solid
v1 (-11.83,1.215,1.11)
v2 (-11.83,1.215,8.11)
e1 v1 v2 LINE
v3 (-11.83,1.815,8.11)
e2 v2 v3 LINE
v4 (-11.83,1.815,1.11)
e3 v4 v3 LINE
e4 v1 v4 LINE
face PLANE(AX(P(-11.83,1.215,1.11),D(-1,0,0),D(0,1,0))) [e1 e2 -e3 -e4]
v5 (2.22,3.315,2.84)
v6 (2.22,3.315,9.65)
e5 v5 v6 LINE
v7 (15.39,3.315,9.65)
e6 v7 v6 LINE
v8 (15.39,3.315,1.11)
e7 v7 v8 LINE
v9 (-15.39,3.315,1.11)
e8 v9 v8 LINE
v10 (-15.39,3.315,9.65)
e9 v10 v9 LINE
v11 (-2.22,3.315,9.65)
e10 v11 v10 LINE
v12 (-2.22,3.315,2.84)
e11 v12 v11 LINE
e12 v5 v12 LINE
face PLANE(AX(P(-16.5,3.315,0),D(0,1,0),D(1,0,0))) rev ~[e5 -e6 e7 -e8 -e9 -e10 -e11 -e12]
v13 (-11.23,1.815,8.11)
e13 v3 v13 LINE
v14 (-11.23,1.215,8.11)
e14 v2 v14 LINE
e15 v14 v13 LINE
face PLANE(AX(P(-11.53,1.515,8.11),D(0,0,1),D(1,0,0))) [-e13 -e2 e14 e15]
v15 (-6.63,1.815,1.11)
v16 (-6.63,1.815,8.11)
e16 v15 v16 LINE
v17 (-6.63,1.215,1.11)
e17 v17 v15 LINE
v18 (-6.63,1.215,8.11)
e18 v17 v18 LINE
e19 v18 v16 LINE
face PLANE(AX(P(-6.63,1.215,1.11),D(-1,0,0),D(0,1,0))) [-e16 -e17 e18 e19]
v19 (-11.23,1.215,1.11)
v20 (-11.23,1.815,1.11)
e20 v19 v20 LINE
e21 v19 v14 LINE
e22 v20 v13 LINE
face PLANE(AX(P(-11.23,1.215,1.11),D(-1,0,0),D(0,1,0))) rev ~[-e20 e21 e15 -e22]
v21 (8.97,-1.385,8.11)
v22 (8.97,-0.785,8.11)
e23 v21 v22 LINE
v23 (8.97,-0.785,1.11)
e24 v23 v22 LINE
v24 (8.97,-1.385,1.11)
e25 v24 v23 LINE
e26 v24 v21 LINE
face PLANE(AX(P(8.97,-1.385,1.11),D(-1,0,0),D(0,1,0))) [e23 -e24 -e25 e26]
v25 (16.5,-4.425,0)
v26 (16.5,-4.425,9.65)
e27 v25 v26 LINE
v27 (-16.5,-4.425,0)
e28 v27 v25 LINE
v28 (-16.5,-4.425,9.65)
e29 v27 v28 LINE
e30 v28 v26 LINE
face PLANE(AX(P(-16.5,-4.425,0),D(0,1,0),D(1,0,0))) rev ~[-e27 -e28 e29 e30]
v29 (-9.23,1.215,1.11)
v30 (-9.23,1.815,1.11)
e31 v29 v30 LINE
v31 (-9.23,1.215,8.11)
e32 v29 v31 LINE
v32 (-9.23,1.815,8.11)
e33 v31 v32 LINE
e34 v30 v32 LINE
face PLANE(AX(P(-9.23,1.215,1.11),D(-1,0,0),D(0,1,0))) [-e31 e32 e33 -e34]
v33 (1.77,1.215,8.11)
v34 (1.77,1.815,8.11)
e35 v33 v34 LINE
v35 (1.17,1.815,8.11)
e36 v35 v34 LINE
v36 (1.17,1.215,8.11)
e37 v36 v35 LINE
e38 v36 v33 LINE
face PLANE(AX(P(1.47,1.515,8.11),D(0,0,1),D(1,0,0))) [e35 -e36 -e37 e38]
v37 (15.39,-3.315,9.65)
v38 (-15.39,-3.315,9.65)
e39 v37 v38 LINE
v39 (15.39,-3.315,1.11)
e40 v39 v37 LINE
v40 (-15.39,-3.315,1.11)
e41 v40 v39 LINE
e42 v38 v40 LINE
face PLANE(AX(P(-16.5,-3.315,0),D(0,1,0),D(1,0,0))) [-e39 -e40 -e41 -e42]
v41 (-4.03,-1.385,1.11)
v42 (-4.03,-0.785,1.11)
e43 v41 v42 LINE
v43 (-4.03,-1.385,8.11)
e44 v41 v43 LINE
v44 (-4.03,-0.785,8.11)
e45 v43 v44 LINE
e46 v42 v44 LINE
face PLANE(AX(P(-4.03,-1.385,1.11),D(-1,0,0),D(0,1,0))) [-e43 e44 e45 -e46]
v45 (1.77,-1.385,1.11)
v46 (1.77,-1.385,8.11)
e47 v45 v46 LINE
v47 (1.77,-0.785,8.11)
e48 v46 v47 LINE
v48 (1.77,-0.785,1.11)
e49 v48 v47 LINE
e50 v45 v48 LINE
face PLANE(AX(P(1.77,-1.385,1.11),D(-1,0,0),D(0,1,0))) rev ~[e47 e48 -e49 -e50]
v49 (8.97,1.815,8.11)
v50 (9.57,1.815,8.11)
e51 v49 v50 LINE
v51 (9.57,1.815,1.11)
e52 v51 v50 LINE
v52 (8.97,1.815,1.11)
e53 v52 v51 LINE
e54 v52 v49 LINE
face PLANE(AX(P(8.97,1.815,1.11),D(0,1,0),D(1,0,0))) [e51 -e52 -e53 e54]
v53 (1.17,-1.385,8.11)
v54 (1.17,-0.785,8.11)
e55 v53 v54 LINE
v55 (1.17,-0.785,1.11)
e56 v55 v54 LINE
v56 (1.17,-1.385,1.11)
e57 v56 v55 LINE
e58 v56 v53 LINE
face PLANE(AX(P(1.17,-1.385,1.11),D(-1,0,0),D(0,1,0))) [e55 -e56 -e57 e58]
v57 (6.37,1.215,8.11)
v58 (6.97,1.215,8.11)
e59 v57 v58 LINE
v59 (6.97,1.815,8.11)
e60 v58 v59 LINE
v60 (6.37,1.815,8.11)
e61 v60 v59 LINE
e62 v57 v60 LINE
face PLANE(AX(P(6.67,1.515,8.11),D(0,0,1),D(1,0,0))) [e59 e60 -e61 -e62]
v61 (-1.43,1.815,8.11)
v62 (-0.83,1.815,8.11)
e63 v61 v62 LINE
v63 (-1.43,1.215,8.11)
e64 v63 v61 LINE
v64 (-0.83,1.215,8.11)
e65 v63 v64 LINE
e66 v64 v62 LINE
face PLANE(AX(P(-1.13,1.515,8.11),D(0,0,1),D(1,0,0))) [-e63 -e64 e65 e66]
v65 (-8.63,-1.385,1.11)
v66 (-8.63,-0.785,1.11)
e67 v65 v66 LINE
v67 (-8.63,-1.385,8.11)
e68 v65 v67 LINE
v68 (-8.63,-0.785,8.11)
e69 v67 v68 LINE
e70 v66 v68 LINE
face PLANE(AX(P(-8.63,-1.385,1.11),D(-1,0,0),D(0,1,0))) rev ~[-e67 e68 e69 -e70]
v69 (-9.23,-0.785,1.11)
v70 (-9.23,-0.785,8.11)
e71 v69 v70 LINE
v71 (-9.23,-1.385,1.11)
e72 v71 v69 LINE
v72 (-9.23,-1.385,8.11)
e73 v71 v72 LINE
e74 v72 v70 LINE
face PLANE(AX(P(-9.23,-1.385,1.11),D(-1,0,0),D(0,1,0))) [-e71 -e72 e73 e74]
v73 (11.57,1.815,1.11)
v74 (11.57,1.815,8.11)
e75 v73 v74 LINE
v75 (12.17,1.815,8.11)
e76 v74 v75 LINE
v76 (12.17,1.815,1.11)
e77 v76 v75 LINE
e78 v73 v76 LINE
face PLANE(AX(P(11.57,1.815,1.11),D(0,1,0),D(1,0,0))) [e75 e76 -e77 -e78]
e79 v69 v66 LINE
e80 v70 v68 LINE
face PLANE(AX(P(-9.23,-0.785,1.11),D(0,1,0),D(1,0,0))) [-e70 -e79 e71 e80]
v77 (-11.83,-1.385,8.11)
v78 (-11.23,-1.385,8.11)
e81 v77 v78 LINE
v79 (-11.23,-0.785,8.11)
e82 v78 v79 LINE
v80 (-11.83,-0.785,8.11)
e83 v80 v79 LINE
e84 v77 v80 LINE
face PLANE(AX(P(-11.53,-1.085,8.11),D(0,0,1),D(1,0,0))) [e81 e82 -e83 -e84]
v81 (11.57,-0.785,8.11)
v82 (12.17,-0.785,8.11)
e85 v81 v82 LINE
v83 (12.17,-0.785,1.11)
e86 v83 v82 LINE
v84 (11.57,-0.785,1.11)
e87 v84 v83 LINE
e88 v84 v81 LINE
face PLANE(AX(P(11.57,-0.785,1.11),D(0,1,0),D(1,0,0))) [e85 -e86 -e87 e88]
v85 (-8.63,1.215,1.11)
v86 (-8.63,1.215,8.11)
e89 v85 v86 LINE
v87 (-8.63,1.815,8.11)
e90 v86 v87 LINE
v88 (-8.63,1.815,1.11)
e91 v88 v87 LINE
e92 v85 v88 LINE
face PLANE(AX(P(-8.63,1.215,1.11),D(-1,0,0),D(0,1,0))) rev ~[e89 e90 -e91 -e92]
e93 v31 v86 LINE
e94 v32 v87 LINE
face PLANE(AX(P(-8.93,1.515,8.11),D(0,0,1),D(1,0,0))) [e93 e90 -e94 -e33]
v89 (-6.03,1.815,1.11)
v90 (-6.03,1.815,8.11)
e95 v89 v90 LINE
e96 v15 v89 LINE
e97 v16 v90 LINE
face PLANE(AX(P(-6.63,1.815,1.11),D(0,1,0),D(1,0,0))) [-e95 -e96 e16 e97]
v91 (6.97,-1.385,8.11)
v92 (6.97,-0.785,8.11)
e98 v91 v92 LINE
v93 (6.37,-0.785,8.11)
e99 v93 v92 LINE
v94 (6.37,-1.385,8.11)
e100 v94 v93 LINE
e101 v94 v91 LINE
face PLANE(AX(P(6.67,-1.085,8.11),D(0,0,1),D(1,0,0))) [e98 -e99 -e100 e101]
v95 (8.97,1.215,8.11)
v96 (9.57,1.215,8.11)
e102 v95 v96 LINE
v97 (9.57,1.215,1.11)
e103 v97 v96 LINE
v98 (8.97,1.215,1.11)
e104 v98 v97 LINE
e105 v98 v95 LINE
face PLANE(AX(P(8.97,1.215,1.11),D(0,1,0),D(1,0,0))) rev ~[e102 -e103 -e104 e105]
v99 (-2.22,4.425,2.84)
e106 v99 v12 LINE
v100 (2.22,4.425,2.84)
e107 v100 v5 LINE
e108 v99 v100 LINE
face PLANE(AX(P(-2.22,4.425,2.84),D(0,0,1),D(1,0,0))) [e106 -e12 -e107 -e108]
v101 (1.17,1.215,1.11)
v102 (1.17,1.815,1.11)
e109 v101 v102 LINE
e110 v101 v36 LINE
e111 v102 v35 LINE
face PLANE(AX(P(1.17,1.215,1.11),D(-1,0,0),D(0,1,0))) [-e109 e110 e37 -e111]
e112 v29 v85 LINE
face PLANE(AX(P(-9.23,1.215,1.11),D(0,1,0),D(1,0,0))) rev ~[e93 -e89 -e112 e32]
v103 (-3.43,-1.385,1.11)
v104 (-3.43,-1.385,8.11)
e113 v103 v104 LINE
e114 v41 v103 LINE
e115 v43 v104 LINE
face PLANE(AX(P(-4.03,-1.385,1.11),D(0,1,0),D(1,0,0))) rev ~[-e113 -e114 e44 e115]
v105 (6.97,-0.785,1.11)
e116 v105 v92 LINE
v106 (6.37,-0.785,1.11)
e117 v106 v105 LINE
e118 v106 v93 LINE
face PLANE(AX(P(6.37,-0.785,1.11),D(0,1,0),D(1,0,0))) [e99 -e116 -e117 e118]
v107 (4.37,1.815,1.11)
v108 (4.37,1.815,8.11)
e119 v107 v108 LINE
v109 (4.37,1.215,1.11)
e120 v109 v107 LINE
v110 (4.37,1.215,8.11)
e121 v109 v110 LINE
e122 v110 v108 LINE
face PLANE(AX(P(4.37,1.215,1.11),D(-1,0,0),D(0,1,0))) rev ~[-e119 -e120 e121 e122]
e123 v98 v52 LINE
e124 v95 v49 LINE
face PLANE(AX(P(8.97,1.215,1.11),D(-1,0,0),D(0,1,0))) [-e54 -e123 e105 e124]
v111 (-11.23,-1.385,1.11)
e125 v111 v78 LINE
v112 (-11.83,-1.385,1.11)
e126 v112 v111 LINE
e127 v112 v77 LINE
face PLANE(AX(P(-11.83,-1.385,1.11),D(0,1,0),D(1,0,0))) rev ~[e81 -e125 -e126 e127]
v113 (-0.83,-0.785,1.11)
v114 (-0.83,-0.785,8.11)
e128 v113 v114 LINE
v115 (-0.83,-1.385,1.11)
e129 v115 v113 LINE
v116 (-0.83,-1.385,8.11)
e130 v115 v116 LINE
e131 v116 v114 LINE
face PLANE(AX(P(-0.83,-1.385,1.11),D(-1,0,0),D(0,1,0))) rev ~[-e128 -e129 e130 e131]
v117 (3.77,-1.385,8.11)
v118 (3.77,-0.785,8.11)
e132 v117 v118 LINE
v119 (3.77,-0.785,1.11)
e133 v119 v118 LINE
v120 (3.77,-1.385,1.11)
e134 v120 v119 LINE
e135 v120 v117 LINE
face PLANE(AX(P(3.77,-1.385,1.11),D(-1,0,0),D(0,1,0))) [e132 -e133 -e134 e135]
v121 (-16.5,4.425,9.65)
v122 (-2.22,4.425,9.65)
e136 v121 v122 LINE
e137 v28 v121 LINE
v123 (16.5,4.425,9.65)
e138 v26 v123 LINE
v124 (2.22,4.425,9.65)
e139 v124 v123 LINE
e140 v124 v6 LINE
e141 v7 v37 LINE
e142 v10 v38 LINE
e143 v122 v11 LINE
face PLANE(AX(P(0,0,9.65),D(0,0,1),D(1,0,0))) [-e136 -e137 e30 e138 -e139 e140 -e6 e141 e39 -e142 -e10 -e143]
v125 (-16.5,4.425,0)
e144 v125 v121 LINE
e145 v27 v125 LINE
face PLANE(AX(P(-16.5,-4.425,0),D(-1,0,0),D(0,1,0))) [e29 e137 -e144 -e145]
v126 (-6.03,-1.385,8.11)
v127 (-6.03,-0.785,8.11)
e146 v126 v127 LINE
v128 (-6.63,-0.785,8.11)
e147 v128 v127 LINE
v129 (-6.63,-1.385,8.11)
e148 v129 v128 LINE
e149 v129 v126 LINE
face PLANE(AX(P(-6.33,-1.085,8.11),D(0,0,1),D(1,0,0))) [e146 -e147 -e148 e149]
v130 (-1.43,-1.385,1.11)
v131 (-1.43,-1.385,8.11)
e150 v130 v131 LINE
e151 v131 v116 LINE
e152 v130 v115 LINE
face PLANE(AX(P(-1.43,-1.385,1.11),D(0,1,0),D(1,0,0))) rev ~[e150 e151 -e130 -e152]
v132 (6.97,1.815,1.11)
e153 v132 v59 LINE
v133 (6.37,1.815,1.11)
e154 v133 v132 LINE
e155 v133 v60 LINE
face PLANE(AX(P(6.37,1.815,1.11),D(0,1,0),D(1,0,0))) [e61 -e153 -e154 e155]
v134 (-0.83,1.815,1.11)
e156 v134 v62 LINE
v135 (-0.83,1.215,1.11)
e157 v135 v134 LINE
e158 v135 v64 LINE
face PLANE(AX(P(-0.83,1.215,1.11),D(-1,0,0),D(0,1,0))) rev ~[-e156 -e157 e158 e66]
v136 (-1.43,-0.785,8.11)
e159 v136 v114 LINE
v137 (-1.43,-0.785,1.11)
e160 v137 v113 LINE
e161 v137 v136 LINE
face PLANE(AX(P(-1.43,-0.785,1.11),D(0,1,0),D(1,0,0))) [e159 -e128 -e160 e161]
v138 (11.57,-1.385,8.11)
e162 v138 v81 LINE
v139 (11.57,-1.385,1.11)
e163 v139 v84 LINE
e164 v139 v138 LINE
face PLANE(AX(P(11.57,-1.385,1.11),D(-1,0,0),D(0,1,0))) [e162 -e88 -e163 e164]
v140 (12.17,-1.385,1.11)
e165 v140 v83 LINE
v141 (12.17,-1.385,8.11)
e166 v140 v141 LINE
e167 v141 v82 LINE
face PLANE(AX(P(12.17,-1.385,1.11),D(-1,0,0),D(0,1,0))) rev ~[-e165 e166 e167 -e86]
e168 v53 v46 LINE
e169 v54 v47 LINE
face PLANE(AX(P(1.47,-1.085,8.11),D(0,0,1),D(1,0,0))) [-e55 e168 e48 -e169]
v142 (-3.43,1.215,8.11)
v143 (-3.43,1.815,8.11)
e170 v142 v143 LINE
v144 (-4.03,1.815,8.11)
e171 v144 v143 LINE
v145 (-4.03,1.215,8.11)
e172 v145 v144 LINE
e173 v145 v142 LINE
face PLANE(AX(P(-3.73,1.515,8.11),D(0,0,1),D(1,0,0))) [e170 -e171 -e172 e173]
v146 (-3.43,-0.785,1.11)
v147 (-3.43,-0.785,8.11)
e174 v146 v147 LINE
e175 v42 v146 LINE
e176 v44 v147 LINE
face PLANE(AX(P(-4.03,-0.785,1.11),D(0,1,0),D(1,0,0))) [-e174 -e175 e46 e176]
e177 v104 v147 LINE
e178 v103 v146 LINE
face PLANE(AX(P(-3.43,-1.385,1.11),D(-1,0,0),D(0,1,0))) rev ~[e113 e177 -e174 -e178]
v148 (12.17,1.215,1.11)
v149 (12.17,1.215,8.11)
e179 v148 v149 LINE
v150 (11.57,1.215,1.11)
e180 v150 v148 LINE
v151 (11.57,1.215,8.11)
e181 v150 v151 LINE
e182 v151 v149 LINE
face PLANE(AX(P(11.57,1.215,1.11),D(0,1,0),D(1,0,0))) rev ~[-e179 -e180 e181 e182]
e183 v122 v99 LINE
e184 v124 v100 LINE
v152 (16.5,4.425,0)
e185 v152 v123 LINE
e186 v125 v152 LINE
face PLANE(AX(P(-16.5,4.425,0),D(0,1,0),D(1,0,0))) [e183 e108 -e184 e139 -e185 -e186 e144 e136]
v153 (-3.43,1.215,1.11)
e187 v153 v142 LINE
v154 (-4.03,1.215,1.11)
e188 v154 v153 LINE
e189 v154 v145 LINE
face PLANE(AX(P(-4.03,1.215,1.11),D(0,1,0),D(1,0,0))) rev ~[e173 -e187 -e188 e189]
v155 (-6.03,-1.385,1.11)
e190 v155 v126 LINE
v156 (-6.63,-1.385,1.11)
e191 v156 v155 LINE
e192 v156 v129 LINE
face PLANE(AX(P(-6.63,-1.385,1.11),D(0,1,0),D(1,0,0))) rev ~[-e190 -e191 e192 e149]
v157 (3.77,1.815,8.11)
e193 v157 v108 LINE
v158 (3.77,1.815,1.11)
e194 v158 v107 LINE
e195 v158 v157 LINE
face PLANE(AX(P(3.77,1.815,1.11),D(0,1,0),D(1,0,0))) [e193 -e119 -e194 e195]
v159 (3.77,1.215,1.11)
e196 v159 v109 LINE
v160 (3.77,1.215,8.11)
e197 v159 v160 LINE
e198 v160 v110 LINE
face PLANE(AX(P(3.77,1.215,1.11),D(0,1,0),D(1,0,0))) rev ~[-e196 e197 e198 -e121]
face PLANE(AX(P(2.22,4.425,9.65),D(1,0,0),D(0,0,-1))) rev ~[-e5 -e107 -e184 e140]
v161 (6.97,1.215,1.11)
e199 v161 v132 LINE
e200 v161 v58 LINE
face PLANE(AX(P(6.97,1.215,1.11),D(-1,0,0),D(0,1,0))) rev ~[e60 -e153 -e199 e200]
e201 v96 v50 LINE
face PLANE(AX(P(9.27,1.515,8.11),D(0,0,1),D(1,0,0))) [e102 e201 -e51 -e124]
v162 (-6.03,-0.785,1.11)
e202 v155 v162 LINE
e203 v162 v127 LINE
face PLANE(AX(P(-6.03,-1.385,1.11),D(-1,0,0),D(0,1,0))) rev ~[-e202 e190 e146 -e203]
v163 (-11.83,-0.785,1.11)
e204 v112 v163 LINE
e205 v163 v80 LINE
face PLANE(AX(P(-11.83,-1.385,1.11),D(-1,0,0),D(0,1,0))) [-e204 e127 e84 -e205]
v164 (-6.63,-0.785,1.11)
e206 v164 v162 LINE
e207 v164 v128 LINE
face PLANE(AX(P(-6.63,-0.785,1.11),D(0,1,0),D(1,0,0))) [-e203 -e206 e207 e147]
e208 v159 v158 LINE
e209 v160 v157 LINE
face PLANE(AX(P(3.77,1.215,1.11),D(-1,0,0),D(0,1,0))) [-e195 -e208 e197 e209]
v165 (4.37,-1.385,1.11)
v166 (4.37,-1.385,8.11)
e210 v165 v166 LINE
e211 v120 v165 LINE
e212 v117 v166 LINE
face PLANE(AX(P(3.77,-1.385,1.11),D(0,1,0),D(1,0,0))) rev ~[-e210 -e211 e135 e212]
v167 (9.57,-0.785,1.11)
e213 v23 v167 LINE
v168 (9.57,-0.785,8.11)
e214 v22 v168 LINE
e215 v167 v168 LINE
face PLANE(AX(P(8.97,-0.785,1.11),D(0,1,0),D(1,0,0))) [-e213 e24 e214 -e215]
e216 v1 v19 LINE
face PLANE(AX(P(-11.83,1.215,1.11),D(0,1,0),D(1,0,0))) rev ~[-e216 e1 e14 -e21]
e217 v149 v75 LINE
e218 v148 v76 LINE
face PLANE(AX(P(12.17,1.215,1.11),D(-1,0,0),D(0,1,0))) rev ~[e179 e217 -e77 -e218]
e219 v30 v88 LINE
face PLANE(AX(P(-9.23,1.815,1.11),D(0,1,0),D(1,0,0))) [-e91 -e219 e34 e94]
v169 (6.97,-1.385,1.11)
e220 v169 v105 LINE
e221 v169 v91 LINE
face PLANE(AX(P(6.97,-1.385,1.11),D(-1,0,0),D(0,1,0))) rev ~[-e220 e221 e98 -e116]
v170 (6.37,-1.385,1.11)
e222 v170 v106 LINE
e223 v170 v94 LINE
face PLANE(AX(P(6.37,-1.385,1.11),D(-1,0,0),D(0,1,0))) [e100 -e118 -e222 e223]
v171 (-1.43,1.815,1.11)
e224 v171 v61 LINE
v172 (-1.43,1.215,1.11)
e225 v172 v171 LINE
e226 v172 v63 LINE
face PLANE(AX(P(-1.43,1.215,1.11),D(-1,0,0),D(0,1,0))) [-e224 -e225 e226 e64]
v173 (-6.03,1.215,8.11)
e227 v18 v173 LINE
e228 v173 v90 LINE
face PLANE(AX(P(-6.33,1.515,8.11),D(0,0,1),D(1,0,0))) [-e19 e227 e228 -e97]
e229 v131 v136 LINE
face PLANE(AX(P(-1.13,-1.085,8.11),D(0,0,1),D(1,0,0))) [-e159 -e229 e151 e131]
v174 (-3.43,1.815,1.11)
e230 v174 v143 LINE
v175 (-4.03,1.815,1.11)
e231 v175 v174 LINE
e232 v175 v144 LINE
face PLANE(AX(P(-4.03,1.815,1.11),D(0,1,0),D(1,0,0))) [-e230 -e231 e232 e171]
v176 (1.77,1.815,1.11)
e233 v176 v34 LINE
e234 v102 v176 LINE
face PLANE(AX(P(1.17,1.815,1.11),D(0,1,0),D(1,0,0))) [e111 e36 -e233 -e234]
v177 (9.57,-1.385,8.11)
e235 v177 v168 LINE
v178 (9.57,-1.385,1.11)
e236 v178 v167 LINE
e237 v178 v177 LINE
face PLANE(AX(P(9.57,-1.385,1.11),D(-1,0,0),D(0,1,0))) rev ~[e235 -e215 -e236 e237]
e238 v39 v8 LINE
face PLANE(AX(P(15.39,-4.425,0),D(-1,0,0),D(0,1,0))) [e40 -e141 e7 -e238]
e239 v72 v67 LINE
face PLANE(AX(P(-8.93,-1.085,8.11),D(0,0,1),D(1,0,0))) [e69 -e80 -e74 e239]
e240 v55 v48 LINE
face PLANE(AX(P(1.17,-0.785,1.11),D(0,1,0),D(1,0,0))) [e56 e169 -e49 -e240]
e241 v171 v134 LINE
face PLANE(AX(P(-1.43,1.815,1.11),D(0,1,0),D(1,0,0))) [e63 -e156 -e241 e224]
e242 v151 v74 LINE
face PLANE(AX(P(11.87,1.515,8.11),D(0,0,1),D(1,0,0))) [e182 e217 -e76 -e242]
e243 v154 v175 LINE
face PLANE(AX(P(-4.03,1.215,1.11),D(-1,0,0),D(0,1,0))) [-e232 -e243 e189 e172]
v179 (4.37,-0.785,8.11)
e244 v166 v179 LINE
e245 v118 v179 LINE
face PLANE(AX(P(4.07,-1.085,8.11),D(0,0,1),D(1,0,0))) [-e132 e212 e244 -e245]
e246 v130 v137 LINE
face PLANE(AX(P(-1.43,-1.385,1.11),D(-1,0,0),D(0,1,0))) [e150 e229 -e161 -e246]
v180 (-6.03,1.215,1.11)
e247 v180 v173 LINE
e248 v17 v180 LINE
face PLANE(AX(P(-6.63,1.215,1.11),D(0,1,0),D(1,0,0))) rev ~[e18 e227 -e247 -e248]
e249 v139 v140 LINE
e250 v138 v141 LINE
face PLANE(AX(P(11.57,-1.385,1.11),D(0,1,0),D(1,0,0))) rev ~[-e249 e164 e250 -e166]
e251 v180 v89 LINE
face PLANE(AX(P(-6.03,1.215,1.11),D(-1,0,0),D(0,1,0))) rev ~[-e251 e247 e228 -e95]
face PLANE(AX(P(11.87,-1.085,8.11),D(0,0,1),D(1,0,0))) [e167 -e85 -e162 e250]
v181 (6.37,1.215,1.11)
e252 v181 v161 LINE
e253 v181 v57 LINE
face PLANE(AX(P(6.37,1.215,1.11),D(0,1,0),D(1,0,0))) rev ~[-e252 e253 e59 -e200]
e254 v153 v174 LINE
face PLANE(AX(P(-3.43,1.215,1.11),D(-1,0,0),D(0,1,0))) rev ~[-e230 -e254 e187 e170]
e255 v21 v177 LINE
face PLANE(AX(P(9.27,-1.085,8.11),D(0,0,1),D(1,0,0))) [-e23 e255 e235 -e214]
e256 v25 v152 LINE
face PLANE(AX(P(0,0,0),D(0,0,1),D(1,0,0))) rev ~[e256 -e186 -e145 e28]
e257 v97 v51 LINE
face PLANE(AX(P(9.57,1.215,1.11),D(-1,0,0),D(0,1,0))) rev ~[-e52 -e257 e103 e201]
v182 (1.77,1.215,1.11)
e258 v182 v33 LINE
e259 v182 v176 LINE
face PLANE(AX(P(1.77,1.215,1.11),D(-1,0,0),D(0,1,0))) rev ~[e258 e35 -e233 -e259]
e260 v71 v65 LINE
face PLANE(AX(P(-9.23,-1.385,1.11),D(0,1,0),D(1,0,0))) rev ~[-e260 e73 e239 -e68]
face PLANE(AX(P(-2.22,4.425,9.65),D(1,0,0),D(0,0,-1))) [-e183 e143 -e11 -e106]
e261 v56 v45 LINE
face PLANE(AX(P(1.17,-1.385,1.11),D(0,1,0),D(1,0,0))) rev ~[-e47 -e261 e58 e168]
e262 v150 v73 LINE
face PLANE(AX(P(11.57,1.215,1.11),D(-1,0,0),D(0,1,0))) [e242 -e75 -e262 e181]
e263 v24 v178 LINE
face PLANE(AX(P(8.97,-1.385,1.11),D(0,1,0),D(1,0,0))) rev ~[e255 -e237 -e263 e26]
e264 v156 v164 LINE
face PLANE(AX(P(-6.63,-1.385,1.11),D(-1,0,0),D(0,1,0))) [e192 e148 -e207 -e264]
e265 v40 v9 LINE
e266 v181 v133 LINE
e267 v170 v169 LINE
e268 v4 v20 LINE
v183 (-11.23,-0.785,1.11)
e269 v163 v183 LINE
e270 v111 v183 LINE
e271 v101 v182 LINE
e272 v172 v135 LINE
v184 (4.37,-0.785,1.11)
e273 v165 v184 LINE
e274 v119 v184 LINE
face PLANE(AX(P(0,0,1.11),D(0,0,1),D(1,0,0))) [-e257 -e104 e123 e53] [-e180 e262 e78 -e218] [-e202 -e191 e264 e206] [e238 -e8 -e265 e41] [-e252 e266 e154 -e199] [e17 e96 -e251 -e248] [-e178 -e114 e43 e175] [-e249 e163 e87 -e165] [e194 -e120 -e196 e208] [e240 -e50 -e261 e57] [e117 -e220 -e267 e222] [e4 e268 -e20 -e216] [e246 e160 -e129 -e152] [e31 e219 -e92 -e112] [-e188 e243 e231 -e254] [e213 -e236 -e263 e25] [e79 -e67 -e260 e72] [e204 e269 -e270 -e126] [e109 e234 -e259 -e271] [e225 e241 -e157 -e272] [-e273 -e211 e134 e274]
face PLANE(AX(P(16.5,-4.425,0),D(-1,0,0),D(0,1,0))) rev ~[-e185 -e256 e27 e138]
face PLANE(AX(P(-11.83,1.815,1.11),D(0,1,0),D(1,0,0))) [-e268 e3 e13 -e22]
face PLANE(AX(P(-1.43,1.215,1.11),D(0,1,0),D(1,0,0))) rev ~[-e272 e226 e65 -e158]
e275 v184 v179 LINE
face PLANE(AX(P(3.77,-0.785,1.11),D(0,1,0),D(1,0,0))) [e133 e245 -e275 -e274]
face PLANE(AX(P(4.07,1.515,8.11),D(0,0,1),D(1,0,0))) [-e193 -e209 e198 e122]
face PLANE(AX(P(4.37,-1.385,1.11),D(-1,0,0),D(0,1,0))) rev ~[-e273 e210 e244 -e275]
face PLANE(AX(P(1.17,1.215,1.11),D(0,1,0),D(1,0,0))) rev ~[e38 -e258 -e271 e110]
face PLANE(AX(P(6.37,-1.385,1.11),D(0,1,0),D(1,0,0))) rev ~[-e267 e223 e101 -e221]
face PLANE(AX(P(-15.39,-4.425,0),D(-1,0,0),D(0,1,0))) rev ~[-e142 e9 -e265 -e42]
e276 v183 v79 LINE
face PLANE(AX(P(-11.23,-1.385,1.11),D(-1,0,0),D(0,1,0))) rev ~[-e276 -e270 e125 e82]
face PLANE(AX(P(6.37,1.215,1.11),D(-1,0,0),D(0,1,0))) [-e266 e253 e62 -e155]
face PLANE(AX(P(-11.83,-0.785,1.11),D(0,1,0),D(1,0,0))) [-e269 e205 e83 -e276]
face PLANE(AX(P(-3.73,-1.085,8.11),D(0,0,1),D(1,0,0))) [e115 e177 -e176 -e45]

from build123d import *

# Parameters (mm, degrees)
SZKIC1_W                    = 33
SZKIC1_H                    = 8.85
DODANIE_WYCI_GNI_CIE1_DEPTH = 9.65
SKORUPA1_T                  = -1.11
WYTNIJ_WYCI_GNI_CIE1_REACH  = 23.064
SZKIC2_W                    = 4.44
SZKIC2_H                    = 6.81
SZKIC3_W                    = 0.6
SZKIC3_H                    = 0.6
DODANIE_WYCI_GNI_CIE2_DEPTH = 7


with BuildPart() as part:
    # Szkic1 → Dodanie-wyciągnięcie1 (new body)
    with BuildSketch(Plane.XY):
        Rectangle(SZKIC1_W, SZKIC1_H)
    extrude(amount=DODANIE_WYCI_GNI_CIE1_DEPTH)

    # Skorupa1
    skorupa1_openings = [part.faces().sort_by_distance(p)[0] for p in [
        (0, 0, 9.65),
    ]]
    offset(amount=SKORUPA1_T, openings=skorupa1_openings, kind=Kind.INTERSECTION)

    # Szkic2 → Wytnij-wyciągnięcie1 (cut, up to next)
    with BuildSketch(Plane(origin=(0, 4.425, 0), x_dir=(1, 0, 0), z_dir=(0, 1, 0)), mode=Mode.PRIVATE) as wytnij_wyci_gni_cie1_sk1:
        with Locations((0, -6.245)):
            Rectangle(SZKIC2_W, SZKIC2_H)
    wytnij_wyci_gni_cie1_tool1 = extrude(wytnij_wyci_gni_cie1_sk1.sketch, amount=-WYTNIJ_WYCI_GNI_CIE1_REACH, mode=Mode.PRIVATE) & part.part
    add(wytnij_wyci_gni_cie1_tool1.solids().sort_by_distance((0, 4.425, 6.245))[0], mode=Mode.SUBTRACT)

    # Szkic3 → Dodanie-wyciągnięcie2 (add)
    with BuildSketch(Plane.XY.offset(1.11)):
        with Locations((-11.53, 1.515)):
            Rectangle(SZKIC3_W, SZKIC3_H)
        with Locations((-8.93, 1.515)):
            Rectangle(SZKIC3_W, SZKIC3_H)
        with Locations((-6.33, 1.515)):
            Rectangle(SZKIC3_W, SZKIC3_H)
        with Locations((-3.73, 1.515)):
            Rectangle(SZKIC3_W, SZKIC3_H)
        with Locations((-1.13, 1.515)):
            Rectangle(SZKIC3_W, SZKIC3_H)
        with Locations((1.47, 1.515)):
            Rectangle(SZKIC3_W, SZKIC3_H)
        with Locations((4.07, 1.515)):
            Rectangle(SZKIC3_W, SZKIC3_H)
        with Locations((6.67, 1.515)):
            Rectangle(SZKIC3_W, SZKIC3_H)
        with Locations((9.27, 1.515)):
            Rectangle(SZKIC3_W, SZKIC3_H)
        with Locations((11.87, 1.515)):
            Rectangle(SZKIC3_W, SZKIC3_H)
        with Locations((-8.93, -1.085)):
            Rectangle(SZKIC3_W, SZKIC3_H)
        with Locations((-6.33, -1.085)):
            Rectangle(SZKIC3_W, SZKIC3_H)
        with Locations((-3.73, -1.085)):
            Rectangle(SZKIC3_W, SZKIC3_H)
        with Locations((-1.13, -1.085)):
            Rectangle(SZKIC3_W, SZKIC3_H)
        with Locations((1.47, -1.085)):
            Rectangle(SZKIC3_W, SZKIC3_H)
        with Locations((4.07, -1.085)):
            Rectangle(SZKIC3_W, SZKIC3_H)
        with Locations((6.67, -1.085)):
            Rectangle(SZKIC3_W, SZKIC3_H)
        with Locations((9.27, -1.085)):
            Rectangle(SZKIC3_W, SZKIC3_H)
        with Locations((11.87, -1.085)):
            Rectangle(SZKIC3_W, SZKIC3_H)
        with Locations((-11.53, -1.085)):
            Rectangle(SZKIC3_W, SZKIC3_H)
    extrude(amount=DODANIE_WYCI_GNI_CIE2_DEPTH)


solid = part.part
